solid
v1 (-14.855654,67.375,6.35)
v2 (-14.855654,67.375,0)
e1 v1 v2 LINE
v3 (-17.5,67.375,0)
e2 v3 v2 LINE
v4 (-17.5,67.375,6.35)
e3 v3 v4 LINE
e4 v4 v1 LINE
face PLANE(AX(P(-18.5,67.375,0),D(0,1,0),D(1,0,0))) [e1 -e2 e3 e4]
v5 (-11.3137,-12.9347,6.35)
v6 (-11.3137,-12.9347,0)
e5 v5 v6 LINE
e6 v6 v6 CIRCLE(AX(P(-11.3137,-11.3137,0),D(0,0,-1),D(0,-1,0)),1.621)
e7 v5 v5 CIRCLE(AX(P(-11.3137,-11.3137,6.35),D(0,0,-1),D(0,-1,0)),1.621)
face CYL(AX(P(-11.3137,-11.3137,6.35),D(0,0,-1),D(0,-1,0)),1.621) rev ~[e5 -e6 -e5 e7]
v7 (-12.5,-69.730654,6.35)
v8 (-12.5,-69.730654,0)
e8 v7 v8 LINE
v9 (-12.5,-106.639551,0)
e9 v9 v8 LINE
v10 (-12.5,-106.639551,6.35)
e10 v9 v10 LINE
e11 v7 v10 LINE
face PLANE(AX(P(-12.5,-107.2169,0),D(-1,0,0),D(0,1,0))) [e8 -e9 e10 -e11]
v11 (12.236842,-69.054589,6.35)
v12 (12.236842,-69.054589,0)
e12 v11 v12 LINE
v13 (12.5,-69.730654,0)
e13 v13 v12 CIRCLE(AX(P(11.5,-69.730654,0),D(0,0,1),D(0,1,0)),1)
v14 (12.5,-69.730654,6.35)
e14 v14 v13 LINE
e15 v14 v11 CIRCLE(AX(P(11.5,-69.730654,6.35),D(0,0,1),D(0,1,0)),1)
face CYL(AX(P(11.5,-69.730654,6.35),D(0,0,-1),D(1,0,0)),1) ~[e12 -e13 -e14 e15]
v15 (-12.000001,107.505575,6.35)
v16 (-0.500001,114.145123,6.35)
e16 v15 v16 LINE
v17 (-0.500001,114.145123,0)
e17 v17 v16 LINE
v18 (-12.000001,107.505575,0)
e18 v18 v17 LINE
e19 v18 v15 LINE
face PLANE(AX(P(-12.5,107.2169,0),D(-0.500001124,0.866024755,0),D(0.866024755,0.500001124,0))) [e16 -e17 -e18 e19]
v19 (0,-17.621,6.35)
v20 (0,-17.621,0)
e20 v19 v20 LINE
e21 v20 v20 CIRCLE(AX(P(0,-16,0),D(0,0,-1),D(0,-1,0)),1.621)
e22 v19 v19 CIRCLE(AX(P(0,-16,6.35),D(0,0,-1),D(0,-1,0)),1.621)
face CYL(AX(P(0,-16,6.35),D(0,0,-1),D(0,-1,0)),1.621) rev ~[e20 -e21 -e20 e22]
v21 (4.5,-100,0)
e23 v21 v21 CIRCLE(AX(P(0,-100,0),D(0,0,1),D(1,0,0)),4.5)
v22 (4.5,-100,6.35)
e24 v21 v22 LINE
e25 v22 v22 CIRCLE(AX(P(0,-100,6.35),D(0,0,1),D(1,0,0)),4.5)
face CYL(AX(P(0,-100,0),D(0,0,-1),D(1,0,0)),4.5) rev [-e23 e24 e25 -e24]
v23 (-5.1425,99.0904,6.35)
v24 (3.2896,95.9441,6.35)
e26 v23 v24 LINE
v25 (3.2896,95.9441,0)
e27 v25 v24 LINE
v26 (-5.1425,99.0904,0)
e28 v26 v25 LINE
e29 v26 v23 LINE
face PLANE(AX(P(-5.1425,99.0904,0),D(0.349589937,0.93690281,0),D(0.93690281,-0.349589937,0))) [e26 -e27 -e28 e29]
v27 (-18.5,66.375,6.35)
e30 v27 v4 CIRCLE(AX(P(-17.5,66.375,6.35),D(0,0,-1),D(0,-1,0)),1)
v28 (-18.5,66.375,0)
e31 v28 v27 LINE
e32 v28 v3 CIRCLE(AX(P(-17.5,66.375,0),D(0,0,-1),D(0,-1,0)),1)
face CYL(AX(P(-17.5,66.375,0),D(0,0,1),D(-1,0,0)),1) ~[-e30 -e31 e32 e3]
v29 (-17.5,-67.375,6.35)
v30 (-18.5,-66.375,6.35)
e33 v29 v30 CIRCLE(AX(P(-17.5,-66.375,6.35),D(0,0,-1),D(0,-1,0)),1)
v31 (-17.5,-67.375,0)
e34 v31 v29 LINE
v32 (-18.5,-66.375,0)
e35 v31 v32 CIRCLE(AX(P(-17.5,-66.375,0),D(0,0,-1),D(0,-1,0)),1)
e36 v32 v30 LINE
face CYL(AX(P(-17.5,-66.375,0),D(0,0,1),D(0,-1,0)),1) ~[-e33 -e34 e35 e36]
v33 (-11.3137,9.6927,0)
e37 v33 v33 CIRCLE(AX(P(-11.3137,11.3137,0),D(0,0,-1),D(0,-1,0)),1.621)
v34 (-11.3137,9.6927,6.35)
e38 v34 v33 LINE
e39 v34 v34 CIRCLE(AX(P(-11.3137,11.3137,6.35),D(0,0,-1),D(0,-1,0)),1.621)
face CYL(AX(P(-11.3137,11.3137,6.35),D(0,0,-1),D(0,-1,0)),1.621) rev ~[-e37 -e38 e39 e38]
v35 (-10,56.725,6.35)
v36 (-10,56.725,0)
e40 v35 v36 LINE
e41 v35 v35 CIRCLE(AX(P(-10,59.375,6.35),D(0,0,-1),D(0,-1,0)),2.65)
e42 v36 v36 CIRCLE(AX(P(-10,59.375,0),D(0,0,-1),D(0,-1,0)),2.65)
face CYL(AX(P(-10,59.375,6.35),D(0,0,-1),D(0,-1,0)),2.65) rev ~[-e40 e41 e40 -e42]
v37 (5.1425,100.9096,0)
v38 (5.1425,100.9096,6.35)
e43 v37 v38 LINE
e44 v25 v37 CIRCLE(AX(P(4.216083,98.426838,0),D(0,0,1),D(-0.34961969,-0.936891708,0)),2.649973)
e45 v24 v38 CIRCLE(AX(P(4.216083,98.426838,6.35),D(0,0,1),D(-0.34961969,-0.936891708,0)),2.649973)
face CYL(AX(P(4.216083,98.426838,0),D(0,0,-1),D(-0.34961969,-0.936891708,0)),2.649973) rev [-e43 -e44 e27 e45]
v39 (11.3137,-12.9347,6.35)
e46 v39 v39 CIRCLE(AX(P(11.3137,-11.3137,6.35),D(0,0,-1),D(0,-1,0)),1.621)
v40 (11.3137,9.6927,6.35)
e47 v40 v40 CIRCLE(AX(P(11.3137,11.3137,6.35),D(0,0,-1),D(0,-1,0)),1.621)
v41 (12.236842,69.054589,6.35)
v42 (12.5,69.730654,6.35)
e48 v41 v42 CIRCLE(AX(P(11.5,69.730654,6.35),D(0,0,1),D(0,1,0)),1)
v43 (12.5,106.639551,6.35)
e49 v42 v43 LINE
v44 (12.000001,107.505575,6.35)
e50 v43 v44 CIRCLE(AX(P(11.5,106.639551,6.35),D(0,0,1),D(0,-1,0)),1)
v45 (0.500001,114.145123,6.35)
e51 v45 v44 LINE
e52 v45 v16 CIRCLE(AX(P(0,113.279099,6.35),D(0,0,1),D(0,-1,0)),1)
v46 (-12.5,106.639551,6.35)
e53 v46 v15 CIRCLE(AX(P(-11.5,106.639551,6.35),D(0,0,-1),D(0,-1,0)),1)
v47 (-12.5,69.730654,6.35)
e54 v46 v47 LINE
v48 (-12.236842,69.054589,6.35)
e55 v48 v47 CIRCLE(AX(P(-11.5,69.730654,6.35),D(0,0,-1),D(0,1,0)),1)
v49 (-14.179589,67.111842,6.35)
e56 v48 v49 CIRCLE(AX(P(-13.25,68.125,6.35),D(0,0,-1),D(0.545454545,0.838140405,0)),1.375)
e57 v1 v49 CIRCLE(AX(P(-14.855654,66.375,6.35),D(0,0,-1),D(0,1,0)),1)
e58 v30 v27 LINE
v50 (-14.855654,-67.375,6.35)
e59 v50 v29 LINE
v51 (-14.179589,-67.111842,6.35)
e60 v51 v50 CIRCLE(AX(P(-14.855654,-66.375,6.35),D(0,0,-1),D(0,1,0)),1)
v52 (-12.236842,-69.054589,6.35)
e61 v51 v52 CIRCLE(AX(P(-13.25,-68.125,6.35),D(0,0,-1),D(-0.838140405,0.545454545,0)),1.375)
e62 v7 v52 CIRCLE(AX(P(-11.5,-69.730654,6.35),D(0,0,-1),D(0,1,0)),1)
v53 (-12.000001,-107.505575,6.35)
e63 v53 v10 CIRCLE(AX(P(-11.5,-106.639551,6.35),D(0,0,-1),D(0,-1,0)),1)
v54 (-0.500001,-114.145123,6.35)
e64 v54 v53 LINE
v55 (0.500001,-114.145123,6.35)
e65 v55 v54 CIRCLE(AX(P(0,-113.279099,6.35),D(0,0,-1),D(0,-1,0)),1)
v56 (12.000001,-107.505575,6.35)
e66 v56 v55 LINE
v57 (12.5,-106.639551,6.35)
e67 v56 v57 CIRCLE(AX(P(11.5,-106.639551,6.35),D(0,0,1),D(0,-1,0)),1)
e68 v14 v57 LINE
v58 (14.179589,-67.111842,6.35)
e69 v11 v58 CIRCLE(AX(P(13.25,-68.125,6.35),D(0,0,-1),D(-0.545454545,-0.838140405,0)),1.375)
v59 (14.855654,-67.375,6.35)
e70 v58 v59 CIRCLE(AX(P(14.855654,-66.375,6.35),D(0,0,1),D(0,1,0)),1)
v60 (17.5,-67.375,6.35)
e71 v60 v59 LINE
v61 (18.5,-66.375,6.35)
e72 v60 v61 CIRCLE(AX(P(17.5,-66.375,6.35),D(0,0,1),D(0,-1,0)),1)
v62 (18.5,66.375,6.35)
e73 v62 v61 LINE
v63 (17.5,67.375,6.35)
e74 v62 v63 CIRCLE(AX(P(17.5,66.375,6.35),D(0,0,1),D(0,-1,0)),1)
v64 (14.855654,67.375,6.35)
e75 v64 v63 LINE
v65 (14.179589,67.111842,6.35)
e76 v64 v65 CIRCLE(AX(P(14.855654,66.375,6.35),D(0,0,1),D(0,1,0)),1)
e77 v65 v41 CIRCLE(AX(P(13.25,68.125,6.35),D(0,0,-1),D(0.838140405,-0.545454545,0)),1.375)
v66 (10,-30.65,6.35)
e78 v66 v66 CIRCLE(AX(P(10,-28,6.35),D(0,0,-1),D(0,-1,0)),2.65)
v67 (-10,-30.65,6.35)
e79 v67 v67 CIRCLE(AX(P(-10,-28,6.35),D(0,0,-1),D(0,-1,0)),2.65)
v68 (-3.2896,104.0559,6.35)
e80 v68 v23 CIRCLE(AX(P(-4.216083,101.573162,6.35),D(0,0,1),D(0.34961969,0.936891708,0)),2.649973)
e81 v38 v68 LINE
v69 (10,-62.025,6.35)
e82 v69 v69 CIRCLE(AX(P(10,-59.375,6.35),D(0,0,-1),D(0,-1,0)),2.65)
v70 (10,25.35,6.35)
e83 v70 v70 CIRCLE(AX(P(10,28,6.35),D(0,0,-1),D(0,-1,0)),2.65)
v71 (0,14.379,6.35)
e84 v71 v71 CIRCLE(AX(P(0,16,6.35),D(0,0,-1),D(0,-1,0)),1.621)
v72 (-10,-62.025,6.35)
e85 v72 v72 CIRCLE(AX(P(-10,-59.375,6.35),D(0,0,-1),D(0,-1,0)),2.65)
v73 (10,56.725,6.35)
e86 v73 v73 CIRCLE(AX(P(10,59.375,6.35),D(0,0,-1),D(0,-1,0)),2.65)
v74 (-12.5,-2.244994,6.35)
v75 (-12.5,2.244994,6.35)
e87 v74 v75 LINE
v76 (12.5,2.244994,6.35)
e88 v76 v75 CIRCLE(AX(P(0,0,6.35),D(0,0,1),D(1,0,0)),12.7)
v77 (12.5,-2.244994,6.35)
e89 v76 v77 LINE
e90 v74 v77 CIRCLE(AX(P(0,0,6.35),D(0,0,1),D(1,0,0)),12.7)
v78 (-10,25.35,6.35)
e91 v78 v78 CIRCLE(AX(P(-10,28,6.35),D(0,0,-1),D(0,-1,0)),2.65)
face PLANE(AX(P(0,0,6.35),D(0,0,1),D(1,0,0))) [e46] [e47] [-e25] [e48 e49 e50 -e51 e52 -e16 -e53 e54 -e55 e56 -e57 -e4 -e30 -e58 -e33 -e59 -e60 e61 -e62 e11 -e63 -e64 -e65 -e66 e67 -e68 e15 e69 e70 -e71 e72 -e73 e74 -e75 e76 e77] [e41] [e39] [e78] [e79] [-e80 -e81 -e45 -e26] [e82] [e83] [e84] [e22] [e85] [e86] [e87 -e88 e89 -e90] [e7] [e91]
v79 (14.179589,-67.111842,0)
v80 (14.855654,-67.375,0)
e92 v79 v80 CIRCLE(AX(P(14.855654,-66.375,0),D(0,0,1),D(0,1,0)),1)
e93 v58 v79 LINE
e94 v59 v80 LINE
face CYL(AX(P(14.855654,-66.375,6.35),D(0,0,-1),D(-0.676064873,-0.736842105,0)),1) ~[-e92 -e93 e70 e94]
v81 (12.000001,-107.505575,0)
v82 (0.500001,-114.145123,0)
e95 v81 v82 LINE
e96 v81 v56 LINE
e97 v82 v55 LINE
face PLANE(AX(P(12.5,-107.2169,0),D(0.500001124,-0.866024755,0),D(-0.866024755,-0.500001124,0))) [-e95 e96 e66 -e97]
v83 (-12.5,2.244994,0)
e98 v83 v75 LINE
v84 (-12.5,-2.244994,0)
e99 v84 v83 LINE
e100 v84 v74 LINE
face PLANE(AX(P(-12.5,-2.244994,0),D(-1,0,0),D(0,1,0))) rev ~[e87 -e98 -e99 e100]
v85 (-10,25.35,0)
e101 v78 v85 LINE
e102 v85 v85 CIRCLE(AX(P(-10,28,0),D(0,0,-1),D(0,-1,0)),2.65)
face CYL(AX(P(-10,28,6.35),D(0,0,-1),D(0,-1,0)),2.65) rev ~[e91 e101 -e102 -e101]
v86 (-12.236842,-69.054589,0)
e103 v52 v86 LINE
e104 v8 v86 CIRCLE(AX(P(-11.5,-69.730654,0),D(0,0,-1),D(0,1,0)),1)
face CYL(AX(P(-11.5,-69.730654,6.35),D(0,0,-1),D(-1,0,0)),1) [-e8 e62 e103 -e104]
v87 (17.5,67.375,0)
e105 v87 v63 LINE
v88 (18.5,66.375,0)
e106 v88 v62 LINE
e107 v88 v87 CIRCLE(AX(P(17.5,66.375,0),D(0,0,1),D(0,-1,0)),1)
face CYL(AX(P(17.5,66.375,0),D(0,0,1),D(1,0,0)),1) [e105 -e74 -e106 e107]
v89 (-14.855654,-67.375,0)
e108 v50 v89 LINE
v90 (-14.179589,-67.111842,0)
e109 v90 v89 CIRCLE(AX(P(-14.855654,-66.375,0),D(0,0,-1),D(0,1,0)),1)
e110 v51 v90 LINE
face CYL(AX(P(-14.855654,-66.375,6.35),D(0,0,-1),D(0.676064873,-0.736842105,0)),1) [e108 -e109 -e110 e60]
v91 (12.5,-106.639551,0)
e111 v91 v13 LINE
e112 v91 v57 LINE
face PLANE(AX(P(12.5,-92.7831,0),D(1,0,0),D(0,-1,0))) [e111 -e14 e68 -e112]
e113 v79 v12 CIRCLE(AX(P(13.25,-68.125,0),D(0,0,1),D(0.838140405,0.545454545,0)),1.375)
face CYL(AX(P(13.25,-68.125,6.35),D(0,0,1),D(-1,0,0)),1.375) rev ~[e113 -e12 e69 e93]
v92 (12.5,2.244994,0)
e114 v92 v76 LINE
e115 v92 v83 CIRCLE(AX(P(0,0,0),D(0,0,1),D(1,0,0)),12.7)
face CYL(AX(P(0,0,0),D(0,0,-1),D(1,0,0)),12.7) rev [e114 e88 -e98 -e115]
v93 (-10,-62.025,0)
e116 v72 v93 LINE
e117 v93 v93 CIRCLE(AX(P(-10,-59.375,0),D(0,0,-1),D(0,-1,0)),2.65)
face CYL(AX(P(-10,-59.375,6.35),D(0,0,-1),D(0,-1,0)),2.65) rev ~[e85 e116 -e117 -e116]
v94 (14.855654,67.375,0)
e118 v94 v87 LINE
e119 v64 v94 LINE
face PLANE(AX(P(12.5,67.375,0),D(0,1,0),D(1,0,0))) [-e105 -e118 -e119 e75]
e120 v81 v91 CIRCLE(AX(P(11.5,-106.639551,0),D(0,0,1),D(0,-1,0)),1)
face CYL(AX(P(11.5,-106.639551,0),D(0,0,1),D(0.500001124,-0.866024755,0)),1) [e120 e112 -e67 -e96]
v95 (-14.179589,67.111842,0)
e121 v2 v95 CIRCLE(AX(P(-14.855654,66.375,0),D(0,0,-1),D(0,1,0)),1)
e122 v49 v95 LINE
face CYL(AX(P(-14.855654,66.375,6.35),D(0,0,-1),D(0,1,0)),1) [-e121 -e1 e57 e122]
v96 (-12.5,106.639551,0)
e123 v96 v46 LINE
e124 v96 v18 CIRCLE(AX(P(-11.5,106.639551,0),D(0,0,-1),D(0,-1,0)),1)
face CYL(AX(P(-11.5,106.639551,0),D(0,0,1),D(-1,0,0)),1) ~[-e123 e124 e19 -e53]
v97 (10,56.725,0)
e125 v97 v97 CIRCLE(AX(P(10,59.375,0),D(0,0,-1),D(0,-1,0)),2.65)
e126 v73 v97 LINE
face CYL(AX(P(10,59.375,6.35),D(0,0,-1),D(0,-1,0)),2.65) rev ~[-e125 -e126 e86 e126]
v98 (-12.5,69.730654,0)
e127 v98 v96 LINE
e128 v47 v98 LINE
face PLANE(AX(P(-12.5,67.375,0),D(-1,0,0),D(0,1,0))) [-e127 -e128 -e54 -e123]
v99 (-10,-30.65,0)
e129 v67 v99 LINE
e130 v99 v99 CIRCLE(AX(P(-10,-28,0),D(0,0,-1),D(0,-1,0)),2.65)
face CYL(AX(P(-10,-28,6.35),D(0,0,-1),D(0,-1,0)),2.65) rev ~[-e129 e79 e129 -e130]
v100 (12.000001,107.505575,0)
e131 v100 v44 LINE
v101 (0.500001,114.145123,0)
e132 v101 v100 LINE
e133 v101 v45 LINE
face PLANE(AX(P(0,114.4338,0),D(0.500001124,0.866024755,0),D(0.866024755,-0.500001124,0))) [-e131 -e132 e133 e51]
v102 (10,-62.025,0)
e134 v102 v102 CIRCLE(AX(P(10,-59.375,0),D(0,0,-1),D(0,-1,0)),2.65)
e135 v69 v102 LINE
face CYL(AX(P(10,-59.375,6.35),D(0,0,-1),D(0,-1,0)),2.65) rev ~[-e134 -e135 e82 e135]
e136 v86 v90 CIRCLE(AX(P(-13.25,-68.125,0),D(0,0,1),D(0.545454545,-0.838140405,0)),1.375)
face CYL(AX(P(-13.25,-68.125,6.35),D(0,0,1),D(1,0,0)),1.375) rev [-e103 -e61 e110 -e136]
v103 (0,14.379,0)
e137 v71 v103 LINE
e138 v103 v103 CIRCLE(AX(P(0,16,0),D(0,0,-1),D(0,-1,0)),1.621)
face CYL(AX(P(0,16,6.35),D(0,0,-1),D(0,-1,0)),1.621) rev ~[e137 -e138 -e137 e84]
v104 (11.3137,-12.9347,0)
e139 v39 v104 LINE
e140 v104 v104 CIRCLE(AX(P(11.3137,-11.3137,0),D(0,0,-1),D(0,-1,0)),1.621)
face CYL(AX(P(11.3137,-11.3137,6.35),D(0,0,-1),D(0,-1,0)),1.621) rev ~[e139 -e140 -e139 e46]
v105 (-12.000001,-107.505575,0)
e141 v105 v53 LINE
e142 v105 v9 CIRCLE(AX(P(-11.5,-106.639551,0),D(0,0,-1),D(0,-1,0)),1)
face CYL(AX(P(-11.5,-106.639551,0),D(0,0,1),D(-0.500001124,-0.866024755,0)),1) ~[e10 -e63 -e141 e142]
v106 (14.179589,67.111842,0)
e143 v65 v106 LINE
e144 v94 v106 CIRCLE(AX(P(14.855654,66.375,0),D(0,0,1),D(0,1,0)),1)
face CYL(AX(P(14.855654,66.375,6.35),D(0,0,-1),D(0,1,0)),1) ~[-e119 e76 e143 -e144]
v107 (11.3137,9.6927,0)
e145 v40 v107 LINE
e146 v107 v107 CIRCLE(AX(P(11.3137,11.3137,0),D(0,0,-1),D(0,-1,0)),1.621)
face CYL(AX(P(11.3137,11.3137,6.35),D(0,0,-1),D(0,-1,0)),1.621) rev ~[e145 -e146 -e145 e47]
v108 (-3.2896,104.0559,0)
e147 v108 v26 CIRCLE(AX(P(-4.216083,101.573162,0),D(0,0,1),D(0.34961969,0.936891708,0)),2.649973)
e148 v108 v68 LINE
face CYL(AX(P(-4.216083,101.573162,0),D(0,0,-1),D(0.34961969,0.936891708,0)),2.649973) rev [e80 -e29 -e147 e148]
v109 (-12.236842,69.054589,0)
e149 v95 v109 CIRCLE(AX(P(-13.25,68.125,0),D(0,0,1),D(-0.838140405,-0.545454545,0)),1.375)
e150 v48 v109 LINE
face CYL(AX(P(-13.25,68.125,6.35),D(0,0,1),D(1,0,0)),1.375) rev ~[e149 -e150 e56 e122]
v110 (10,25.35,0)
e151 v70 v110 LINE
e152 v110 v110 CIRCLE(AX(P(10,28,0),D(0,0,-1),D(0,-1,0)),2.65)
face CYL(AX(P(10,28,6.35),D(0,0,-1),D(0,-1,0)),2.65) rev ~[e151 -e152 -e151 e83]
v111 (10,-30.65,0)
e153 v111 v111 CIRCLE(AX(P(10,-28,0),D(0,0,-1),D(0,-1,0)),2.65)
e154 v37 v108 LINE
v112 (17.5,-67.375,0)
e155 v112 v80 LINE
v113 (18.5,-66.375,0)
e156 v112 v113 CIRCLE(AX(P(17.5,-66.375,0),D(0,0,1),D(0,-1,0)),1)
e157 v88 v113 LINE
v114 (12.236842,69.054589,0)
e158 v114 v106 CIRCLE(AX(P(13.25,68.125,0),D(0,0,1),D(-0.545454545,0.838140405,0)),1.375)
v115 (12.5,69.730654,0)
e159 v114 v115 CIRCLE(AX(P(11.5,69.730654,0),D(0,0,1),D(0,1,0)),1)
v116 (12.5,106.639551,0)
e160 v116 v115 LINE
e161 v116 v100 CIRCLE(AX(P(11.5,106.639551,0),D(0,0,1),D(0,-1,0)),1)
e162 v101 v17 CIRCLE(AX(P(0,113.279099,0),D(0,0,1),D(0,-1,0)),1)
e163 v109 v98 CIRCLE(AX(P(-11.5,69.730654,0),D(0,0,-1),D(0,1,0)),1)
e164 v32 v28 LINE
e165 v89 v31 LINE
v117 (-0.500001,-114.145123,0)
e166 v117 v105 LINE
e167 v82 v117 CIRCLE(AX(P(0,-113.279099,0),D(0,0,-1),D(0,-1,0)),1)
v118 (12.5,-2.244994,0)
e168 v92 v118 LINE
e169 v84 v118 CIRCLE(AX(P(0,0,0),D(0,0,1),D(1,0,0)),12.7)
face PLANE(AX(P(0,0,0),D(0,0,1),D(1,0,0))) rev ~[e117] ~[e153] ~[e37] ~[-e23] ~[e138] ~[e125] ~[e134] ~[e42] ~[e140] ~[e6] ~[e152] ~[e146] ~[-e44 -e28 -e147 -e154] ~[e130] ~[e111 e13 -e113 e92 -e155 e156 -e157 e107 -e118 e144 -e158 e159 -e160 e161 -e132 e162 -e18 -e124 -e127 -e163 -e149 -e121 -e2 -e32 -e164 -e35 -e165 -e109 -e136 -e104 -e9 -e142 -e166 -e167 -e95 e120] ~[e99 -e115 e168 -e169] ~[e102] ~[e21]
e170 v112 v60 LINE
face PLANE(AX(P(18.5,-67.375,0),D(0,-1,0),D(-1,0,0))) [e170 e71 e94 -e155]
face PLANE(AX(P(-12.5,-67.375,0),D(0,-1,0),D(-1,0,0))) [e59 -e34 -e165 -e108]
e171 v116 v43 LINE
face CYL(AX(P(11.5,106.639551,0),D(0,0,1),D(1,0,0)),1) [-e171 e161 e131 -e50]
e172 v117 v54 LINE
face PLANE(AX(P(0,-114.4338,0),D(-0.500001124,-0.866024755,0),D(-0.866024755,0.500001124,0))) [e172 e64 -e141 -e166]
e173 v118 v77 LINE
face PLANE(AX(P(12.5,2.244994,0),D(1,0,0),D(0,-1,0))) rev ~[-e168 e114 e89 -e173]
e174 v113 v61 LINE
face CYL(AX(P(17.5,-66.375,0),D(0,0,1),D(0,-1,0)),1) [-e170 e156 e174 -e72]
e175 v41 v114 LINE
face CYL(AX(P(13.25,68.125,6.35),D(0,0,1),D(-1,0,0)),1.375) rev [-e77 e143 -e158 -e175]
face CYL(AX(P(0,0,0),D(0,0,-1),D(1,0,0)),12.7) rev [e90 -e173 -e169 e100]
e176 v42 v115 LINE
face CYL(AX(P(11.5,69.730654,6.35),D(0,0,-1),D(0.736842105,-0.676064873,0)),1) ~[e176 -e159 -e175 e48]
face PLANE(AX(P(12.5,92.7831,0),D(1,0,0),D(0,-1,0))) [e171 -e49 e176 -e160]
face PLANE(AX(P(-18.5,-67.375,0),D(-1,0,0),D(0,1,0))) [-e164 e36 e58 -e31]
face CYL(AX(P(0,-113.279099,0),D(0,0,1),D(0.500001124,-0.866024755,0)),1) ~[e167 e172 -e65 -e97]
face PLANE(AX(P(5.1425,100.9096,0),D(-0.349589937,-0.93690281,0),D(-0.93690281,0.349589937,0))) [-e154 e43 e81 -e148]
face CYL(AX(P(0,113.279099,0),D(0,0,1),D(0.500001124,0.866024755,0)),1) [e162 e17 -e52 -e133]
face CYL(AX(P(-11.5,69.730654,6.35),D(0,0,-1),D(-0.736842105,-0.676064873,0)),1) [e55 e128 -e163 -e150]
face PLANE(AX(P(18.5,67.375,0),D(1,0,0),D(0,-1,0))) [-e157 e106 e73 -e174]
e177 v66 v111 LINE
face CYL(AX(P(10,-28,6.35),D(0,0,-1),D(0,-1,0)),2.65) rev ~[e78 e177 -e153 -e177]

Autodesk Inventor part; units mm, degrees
ref_plane "YZ Plane" through (0, 0, 0) normal (1, 0, 0) x (0, 1, 0)
ref_plane "XZ Plane" through (0, 0, 0) normal (0, 1, 0) x (-1, 0, 0)
ref_plane "XY Plane" through (0, 0, 0) normal (0, 0, 1) x (1, 0, 0)
sketch "Sketch1" plane through (0, 0, 0) normal (0, 0, 1) x (1, 0, 0)
  line L0 (12.5, -107.2169) -> (-12.5, -107.2169)
  line L1 (-12.5, -107.2169) -> (-12.5, 107.2169)
  line L2 (-12.5, 107.2169) -> (12.5, 107.2169)
  line L3 (12.5, 107.2169) -> (12.5, -107.2169)
  line L4 (12.5, -107.2169) -> (-12.5, 107.2169) construction
  line L5 (-12.5, -107.2169) -> (12.5, 107.2169) construction
  line L6 (0, 100) -> (0, -100) construction
  line L7 (-12.5, 107.2169) -> (0, 114.4338)
  line L8 (0, 114.4338) -> (12.5, 107.2169)
  line L9 (12.5, 107.2169) -> (12.5, 92.7831)
  line L10 (12.5, 92.7831) -> (0, 85.5662)
  line L11 (0, 85.5662) -> (-12.5, 92.7831)
  line L12 (-12.5, 92.7831) -> (-12.5, 107.2169)
  line L13 (-12.5, -107.2169) -> (-12.5, -92.7831)
  line L14 (-12.5, -92.7831) -> (0, -85.5662)
  line L15 (0, -85.5662) -> (12.5, -92.7831)
  line L16 (12.5, -92.7831) -> (12.5, -107.2169)
  line L17 (12.5, -107.2169) -> (0, -114.4338)
  line L18 (0, -114.4338) -> (-12.5, -107.2169)
  line L19 (-4.2161, 101.5732) -> (4.2161, 98.4268) construction
  line L20 (-5.1425, 99.0904) -> (3.2896, 95.9441)
  line L21 (5.1425, 100.9096) -> (-3.2896, 104.0559)
  arc A0 (-3.2896, 104.0559) -> (-5.1425, 99.0904) centre (-4.2161, 101.5732) ccw
  arc A1 (3.2896, 95.9441) -> (5.1425, 100.9096) centre (4.2161, 98.4268) ccw
  circle A2 centre (0, -100) radius 4.5
  line L22 (18.5, -67.375) -> (-18.5, -67.375)
  line L23 (-18.5, -67.375) -> (-18.5, 67.375)
  line L24 (-18.5, 67.375) -> (18.5, 67.375)
  line L25 (18.5, 67.375) -> (18.5, -67.375)
  line L26 (18.5, -67.375) -> (-18.5, 67.375) construction
  line L27 (-18.5, -67.375) -> (18.5, 67.375) construction
  circle A3 centre (0, 0) radius 12.7
  point P0 (268, 0)
  point P1 (-12.5, -67.375)
  point P2 (-12.5, 67.375)
  point P3 (12.5, 67.375)
  point P4 (12.5, -67.375)
  point P5 (12.5, -2.245)
  point P6 (-12.5, -2.245)
  point P7 (-12.5, 2.245)
  point P8 (12.5, 2.245)
  dimension "d0" = 25
  dimension "d1" = 268
  dimension "d2" = 200
  dimension "d3" = 5.3
  dimension "d4" = 9
  dimension "d5" = 9
  dimension "d12" = 134.75
  dimension "d13" = 37
  dimension "d43" = 25.4
extrude "Extrusion1" add sketch "Sketch1" along normal blind 6.35 contours L17 L18 L0 | L0 L1 L14 L15 L3 | L15 L14 L1 L22 L3 | L22 L1 A3 L3 | L3 A3 L24 L25 L22 | L22 L23 L24 L1 A3 | L3 A3 | A3 L1 | A3 L1 L24 L3 | L24 L1 L11 L10 L3 | L10 L11 L1 L2 L3 | L2 L7 L8
sketch "Sketch2" plane through (0, 0, 6.35) normal (0, 0, 1) x (1, 0, 0)
  line L0 (-18.5, 67.375) -> (-18.5, -67.375) projected
  line L1 (-18.5, -67.375) -> (-12.5, -67.375) projected
  line L2 (-12.5, -67.375) -> (-12.5, -107.2169) projected
  line L3 (-12.5, -107.2169) -> (0, -114.4338) projected
  line L4 (0, -114.4338) -> (12.5, -107.2169) projected
  line L5 (12.5, -107.2169) -> (12.5, -67.375) projected
  line L6 (12.5, -67.375) -> (18.5, -67.375) projected
  line L7 (18.5, -67.375) -> (18.5, 67.375) projected
  line L8 (18.5, 67.375) -> (12.5, 67.375) projected
  line L9 (12.5, 67.375) -> (12.5, 107.2169) projected
  line L10 (12.5, 107.2169) -> (0, 114.4338) projected
  line L11 (0, 114.4338) -> (-12.5, 107.2169) projected
  line L12 (-12.5, 107.2169) -> (-12.5, 67.375) projected
  line L13 (-12.5, 67.375) -> (-18.5, 67.375) projected
  arc A0 (-3.2896, 104.0559) -> (-5.1425, 99.0904) centre (-4.2161, 101.5732) ccw projected
  line L14 (-3.2896, 104.0559) -> (5.1425, 100.9096) projected
  arc A1 (3.2896, 95.9441) -> (5.1425, 100.9096) centre (4.2161, 98.4268) ccw projected
  line L15 (3.2896, 95.9441) -> (-5.1425, 99.0904) projected
  circle A2 centre (0, -100) radius 4.5 projected
  circle A3 centre (-13.25, 68.125) radius 1.375
  point P0 (0, 0)
  point P1 (-12.5, 69.2774)
  point P2 (-14.4024, 67.375)
  dimension "d16" = 0.75
  dimension "d17" = 2.75
  dimension "d18" = 0.75
extrude "Extrusion2" cut sketch "Sketch2" against normal through all contours L13 L12 A3 picked at (-12.4132, 68.57)
mirror "Mirror1" about plane through (0, 0, 0) normal (1, 0, 0) of "Extrusion2"
mirror "Mirror2" about plane through (0, 0, 0) normal (0, 1, 0) of "Extrusion2", "Mirror1"
sketch "Sketch3" plane through (0, 0, 6.35) normal (0, 0, 1) x (1, 0, 0)
  circle A0 centre (0, -100) radius 4.5 projected
  arc A1 (-3.2896, 104.0559) -> (-5.1425, 99.0904) centre (-4.2161, 101.5732) ccw projected
  line L0 (-3.2896, 104.0559) -> (5.1425, 100.9096) projected
  arc A2 (3.2896, 95.9441) -> (5.1425, 100.9096) centre (4.2161, 98.4268) ccw projected
  line L1 (3.2896, 95.9441) -> (-5.1425, 99.0904) projected
  arc A3 (14.4024, -67.375) -> (12.5, -69.2774) centre (13.25, -68.125) ccw projected
  line L2 (14.4024, -67.375) -> (18.5, -67.375) projected
  line L3 (18.5, -67.375) -> (18.5, 67.375) projected
  line L4 (18.5, 67.375) -> (14.4024, 67.375) projected
  arc A4 (12.5, 69.2774) -> (14.4024, 67.375) centre (13.25, 68.125) ccw projected
  line L5 (12.5, 69.2774) -> (12.5, 107.2169) projected
  line L6 (12.5, 107.2169) -> (0, 114.4338) projected
  line L7 (0, 114.4338) -> (-12.5, 107.2169) projected
  line L8 (-12.5, 107.2169) -> (-12.5, 69.2774) projected
  arc A5 (-14.4024, 67.375) -> (-12.5, 69.2774) centre (-13.25, 68.125) ccw projected
  line L9 (-14.4024, 67.375) -> (-18.5, 67.375) projected
  line L10 (-18.5, 67.375) -> (-18.5, -67.375) projected
  line L11 (-18.5, -67.375) -> (-14.4024, -67.375) projected
  arc A6 (-12.5, -69.2774) -> (-14.4024, -67.375) centre (-13.25, -68.125) ccw projected
  line L12 (-12.5, -69.2774) -> (-12.5, -107.2169) projected
  line L13 (-12.5, -107.2169) -> (0, -114.4338) projected
  line L14 (0, -114.4338) -> (12.5, -107.2169) projected
  line L15 (12.5, -107.2169) -> (12.5, -69.2774) projected
  circle A7 centre (0, 0) radius 16 construction
  line L16 (0, 0) -> (11.3137, 11.3137) construction
  line L17 (0, 0) -> (0, 16) construction
  line L18 (0, 0) -> (0, -16) construction
  line L19 (-11.3137, -11.3137) -> (11.3137, -11.3137) construction
  line L20 (11.3137, -11.3137) -> (11.3137, 11.3137) construction
  line L21 (11.3137, 11.3137) -> (-11.3137, 11.3137) construction
  line L22 (-11.3137, 11.3137) -> (-11.3137, -11.3137) construction
  line L23 (-11.3137, -11.3137) -> (11.3137, 11.3137) construction
  line L24 (11.3137, -11.3137) -> (-11.3137, 11.3137) construction
  dimension "d21" = 32
  dimension "d22" = 45
hole "Hole1" at (-11.3137, 11.3137, 6.35) at (0, 16, 6.35) at (11.3137, 11.3137, 6.35) at (11.3137, -11.3137, 6.35) at (0, -16, 6.35) at (-11.3137, -11.3137, 6.35) direction (0, 0, -1) diameter 3.242 end through all thread size "M4x0.7" class "6H" standard "ANSI Metric M Profile"
sketch "Sketch4" plane through (0, 0, 6.35) normal (0, 0, 1) x (1, 0, 0)
  line L0 (10, -59.375) -> (-10, -59.375) construction
  line L1 (-10, -59.375) -> (-10, 59.375) construction
  line L2 (-10, 59.375) -> (10, 59.375) construction
  line L3 (10, 59.375) -> (10, -59.375) construction
  line L4 (10, -59.375) -> (-10, 59.375) construction
  line L5 (-10, -59.375) -> (10, 59.375) construction
  line L6 (-18.5, -67.375) -> (-14.4024, -67.375) construction
  line L7 (10, -28) -> (-10, -28) construction
  line L8 (-10, -28) -> (-10, 28) construction
  line L9 (-10, 28) -> (10, 28) construction
  line L10 (10, 28) -> (10, -28) construction
  line L11 (10, -28) -> (-10, 28) construction
  line L12 (-10, -28) -> (10, 28) construction
  point P0 (0, 0)
  dimension "d30" = 20
  dimension "d32" = 8
  dimension "d44" = 56
hole "Hole2" at (-10, 59.375, 6.35) at (10, 59.375, 6.35) at (-10, -59.375, 6.35) at (10, -59.375, 6.35) at (-10, 28, 6.35) at (10, 28, 6.35) at (10, -28, 6.35) at (-10, -28, 6.35) direction (0, 0, -1) diameter 5.3 end through all
fillet "Fillet3" radius 1 18 edges at (-18.5, 67.375, 3.175) (-18.5, -67.375, 3.175) (14.4024, -67.375, 3.175) (-14.4024, -67.375, 3.175) (-12.5, -69.2774, 3.175) (18.5, -67.375, 3.175) (12.5, -69.2774, 3.175) (0, -114.4338, 3.175) (12.5, -107.2169, 3.175) (-12.5, -107.2169, 3.175) (18.5, 67.375, 3.175) (-14.4024, 67.375, 3.175) (14.4024, 67.375, 3.175) (0, 114.4338, 3.175) (-12.5, 107.2169, 3.175) (-12.5, 69.2774, 3.175) (12.5, 69.2774, 3.175) (12.5, 107.2169, 3.175)
equation "\"d18\" = d16"
properties part number "Z-Axis Nut and Bed Plate RevII" material "Aluminum 6061"
